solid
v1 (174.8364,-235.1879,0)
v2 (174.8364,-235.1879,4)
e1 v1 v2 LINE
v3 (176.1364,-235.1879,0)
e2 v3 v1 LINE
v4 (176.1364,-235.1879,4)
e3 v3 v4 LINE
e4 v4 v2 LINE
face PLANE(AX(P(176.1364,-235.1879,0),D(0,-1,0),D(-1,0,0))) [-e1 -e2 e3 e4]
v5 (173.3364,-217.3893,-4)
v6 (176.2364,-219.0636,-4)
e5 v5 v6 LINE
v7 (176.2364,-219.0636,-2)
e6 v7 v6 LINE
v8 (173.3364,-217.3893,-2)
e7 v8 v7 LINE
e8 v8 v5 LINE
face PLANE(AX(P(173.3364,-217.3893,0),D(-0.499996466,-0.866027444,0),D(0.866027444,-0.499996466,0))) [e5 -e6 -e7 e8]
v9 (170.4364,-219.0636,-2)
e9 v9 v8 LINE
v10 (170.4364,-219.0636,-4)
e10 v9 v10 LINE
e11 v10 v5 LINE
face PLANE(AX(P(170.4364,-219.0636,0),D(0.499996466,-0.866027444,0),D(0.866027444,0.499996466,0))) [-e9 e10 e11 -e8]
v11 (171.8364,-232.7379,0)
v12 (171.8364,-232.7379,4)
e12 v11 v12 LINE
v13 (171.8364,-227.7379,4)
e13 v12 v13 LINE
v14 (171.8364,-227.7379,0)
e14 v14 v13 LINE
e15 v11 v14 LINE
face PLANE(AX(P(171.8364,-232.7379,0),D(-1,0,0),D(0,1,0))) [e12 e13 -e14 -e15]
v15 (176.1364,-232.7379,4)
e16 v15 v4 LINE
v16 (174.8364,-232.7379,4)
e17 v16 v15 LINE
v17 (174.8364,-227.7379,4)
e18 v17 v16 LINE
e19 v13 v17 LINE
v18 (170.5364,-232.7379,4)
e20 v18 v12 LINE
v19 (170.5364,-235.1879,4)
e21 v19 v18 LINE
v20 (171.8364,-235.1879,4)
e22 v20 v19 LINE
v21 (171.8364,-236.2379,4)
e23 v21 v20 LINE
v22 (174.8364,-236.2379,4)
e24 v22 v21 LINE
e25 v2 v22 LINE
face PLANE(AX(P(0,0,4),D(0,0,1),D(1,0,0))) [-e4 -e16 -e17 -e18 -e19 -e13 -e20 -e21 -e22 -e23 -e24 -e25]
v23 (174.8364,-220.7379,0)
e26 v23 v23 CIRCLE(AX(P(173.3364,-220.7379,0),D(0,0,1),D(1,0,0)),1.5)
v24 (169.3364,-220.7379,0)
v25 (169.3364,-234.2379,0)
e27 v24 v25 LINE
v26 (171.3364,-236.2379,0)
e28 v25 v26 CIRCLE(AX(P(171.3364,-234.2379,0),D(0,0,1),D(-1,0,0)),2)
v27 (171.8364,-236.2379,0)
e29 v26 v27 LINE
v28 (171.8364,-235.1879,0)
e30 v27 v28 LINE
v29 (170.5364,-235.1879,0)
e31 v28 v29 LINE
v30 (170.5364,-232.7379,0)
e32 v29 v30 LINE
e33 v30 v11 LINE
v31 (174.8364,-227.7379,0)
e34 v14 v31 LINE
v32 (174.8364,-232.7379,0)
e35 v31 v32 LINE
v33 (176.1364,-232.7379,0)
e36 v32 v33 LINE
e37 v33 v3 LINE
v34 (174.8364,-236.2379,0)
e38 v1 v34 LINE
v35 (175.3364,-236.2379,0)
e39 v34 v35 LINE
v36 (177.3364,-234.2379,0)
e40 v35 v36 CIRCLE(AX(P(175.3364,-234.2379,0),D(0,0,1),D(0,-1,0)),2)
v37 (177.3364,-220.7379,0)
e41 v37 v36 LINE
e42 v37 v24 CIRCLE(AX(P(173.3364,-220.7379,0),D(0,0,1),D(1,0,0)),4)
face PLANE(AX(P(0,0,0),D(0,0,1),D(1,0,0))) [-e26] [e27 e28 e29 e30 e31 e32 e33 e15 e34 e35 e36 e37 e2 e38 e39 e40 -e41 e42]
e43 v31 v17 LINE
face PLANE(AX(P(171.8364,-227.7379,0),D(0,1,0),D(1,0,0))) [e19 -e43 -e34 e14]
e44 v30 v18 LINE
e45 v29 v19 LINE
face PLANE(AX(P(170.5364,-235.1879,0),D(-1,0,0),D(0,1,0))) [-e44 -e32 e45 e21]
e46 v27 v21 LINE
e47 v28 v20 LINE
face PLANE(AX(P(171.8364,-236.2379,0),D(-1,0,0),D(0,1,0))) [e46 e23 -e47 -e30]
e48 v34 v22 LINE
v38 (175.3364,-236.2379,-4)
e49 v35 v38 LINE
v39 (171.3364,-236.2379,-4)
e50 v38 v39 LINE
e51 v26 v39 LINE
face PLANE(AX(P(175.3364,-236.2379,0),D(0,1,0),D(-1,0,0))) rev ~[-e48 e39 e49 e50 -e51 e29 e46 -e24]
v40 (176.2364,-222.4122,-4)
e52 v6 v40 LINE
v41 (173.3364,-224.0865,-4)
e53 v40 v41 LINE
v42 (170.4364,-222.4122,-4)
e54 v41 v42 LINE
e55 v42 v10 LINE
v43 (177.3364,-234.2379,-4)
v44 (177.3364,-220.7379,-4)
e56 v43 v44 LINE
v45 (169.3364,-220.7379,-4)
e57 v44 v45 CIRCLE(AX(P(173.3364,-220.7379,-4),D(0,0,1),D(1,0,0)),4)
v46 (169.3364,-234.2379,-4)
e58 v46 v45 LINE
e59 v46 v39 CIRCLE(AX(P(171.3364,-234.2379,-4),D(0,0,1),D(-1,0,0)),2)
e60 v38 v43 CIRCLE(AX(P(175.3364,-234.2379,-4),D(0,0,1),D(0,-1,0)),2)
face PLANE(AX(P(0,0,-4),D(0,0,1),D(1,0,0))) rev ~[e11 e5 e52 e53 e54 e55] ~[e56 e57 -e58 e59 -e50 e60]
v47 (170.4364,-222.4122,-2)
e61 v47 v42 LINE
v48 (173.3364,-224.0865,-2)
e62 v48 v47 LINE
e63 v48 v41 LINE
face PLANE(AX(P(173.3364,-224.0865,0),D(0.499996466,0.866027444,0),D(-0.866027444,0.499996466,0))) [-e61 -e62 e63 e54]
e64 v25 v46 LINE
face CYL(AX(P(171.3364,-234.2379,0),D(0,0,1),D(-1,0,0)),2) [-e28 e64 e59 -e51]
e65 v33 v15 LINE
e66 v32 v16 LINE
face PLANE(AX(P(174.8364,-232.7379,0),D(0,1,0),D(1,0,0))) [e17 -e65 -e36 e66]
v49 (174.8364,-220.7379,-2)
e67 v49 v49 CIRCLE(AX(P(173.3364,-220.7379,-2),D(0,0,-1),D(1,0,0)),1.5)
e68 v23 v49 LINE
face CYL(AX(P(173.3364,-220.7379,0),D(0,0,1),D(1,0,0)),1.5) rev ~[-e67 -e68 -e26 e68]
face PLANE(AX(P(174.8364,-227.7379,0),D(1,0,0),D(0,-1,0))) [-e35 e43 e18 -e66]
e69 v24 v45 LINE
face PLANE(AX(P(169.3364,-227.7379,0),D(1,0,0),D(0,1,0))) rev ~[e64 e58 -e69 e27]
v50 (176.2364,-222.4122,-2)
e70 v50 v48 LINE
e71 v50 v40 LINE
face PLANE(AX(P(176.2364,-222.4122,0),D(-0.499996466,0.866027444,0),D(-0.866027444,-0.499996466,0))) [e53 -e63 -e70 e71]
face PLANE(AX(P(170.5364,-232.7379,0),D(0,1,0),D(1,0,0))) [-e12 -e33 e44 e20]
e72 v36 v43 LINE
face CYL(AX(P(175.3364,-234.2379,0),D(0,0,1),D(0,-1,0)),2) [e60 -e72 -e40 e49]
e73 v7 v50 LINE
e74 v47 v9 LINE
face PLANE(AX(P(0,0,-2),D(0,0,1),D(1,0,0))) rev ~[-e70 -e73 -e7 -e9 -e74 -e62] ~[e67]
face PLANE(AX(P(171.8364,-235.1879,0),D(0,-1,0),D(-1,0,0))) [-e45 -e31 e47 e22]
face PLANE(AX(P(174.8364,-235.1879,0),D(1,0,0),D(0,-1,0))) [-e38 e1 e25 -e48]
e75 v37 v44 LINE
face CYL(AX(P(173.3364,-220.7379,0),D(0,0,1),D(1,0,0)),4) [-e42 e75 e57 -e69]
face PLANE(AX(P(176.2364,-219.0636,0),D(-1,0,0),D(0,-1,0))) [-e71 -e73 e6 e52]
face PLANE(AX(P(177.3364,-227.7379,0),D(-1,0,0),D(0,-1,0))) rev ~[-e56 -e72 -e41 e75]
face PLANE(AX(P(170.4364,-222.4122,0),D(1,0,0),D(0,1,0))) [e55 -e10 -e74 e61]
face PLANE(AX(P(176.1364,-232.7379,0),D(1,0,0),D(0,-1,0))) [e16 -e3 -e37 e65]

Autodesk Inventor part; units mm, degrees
ref_plane "YZ Plane" through (0, 0, 0) normal (1, 0, 0) x (0, 1, 0)
ref_plane "XZ Plane" through (0, 0, 0) normal (0, 1, 0) x (-1, 0, 0)
ref_plane "XY Plane" through (0, 0, 0) normal (0, 0, 1) x (1, 0, 0)
sketch "Эскиз1" plane through (0, 0, 0) normal (0, 0, 1) x (1, 0, 0)
  line L0 (330.6864, -227.7379) -> (330.6864, -232.7379)
  line L1 (330.6864, -232.7379) -> (331.9864, -232.7379)
  line L2 (331.9864, -232.7379) -> (331.9864, -235.1879)
  line L3 (331.9864, -235.1879) -> (330.6864, -235.1879)
  line L4 (330.6864, -235.1879) -> (330.6864, -236.2379)
  line L5 (330.6864, -236.2379) -> (327.6864, -236.2379)
  line L6 (327.6864, -236.2379) -> (327.6864, -235.1879)
  line L7 (327.6864, -235.1879) -> (326.3864, -235.1879)
  line L8 (326.3864, -235.1879) -> (326.3864, -232.7379)
  line L9 (326.3864, -232.7379) -> (327.6864, -232.7379)
  line L10 (327.6864, -232.7379) -> (327.6864, -227.7379)
  line L11 (327.6864, -227.7379) -> (289.8864, -227.7379)
  line L12 (289.8864, -227.7379) -> (289.8864, -223.7379)
  line L13 (289.8864, -223.7379) -> (212.4864, -223.7379)
  line L14 (212.4864, -223.7379) -> (212.4864, -227.7379)
  line L15 (212.4864, -227.7379) -> (174.8364, -227.7379)
  line L16 (174.8364, -227.7379) -> (174.8364, -232.7379)
  line L17 (174.8364, -232.7379) -> (176.1364, -232.7379)
  line L18 (176.1364, -232.7379) -> (176.1364, -235.1879)
  line L19 (176.1364, -235.1879) -> (174.8364, -235.1879)
  line L20 (174.8364, -235.1879) -> (174.8364, -236.2379)
  line L21 (174.8364, -236.2379) -> (171.8364, -236.2379)
  line L22 (171.8364, -236.2379) -> (171.8364, -235.1879)
  line L23 (171.8364, -235.1879) -> (170.5364, -235.1879)
  line L24 (170.5364, -235.1879) -> (170.5364, -232.7379)
  line L25 (170.5364, -232.7379) -> (171.8364, -232.7379)
  line L26 (171.8364, -232.7379) -> (171.8364, -227.7379)
  line L27 (171.8364, -227.7379) -> (134.1864, -227.7379)
  line L28 (134.1864, -227.7379) -> (134.1864, -735.7379) projected
  line L29 (134.1864, -735.7379) -> (184.1864, -735.7379) projected
  line L30 (184.1864, -735.7379) -> (184.1864, -437.7379) projected
  line L31 (184.1864, -437.7379) -> (204.1864, -417.7379)
  line L32 (204.1864, -417.7379) -> (454.1864, -417.7379)
  line L33 (454.1864, -417.7379) -> (474.1864, -437.7379)
  line L34 (474.1864, -437.7379) -> (474.1864, -735.7379) projected
  line L35 (474.1864, -735.7379) -> (524.1864, -735.7379) projected
  line L36 (524.1864, -735.7379) -> (524.1864, -227.7379) projected
  line L37 (524.1864, -227.7379) -> (486.5364, -227.7379)
  line L38 (486.5364, -227.7379) -> (486.5364, -232.7379)
  line L39 (486.5364, -232.7379) -> (487.8364, -232.7379)
  line L40 (487.8364, -232.7379) -> (487.8364, -235.1879)
  line L41 (487.8364, -235.1879) -> (486.5364, -235.1879)
  line L42 (486.5364, -235.1879) -> (486.5364, -236.2379)
  line L43 (486.5364, -236.2379) -> (483.5364, -236.2379)
  line L44 (483.5364, -236.2379) -> (483.5364, -235.1879)
  line L45 (483.5364, -235.1879) -> (482.2364, -235.1879)
  line L46 (482.2364, -235.1879) -> (482.2364, -232.7379)
  line L47 (482.2364, -232.7379) -> (483.5364, -232.7379)
  line L48 (483.5364, -232.7379) -> (483.5364, -227.7379)
  line L49 (483.5364, -227.7379) -> (445.8864, -227.7379)
  line L50 (445.8864, -227.7379) -> (445.8864, -223.7379)
  line L51 (445.8864, -223.7379) -> (368.4864, -223.7379)
  line L52 (368.4864, -223.7379) -> (368.4864, -227.7379)
  line L53 (368.4864, -227.7379) -> (330.6864, -227.7379)
  circle A0 centre (510.1864, -385.7379) radius 5
  circle A1 centre (148.1864, -385.7379) radius 5
  circle A2 centre (150.1864, -412.7379) radius 5
  circle A3 centre (508.1864, -412.7379) radius 5
  line L54 (198.0365, -283.9874) -> (198.0365, -274.4874)
  arc A4 (198.2865, -274.2374) -> (198.0365, -274.4874) centre (198.2865, -274.4874) ccw
  line L55 (198.2865, -274.2374) -> (220.2865, -274.2374)
  arc A5 (220.5365, -274.4874) -> (220.2865, -274.2374) centre (220.2865, -274.4874) ccw
  line L56 (220.5365, -274.4874) -> (220.5365, -283.9874)
  arc A6 (220.2865, -284.2374) -> (220.5365, -283.9874) centre (220.2865, -283.9874) ccw
  line L57 (220.2865, -284.2374) -> (198.2865, -284.2374)
  arc A7 (198.0365, -283.9874) -> (198.2865, -284.2374) centre (198.2865, -283.9874) ccw
  spline S0 degree 4 poles (220.5005, -310.507) (220.5003, -310.0397) (220.4543, -309.4219) (220.3063, -308.6946) (219.9828, -307.9126) (219.5846, -307.2407) (219.1485, -306.7849) (218.7486, -306.4926) (218.4341, -306.3133) knots 0 0 0 0 0 0.333261 0.458786 0.580687 0.70052 1 1 1 1 1
  spline S1 degree 4 poles (218.4341, -306.3133) (218.2194, -306.2045) (217.9574, -306.0638) (217.2245, -305.8515) (216.8112, -305.759) (215.0952, -305.8521) (214.8239, -305.815) knots 0 0 0 0 0 0.331948 0.48487 1 1 1 1 1
  line L58 (214.8239, -305.815) -> (210.9827, -305.815)
  line L59 (210.9827, -305.815) -> (210.9827, -303.0192)
  line L60 (210.9827, -303.0192) -> (215.6262, -303.0192)
  spline S2 degree 4 poles (215.6262, -303.0192) (216.0632, -302.9791) (218.3041, -303.1205) (219.1074, -303.2602) (220.3376, -303.6977) (220.8048, -303.9727) (221.1813, -304.1983) knots 0 0 0 0 0 0.48869 0.646796 1 1 1 1 1
  spline S3 degree 4 poles (221.1813, -304.1983) (221.6328, -304.4905) (222.2206, -304.9662) (222.87, -305.6808) (223.5166, -306.727) (224.0456, -307.8865) (224.2868, -308.9631) (224.3652, -309.8569) (224.366, -310.5313) knots 0 0 0 0 0 0.30127 0.423004 0.546367 0.672176 1 1 1 1 1
  spline S4 degree 4 poles (224.366, -310.5313) (224.3672, -311.1836) (224.2819, -312.0637) (224.0275, -313.128) (223.4629, -314.3083) (222.7851, -315.3791) (222.1412, -316.0885) (221.5656, -316.5539) (221.1326, -316.8279) knots 0 0 0 0 0 0.325829 0.453052 0.578284 0.70143 1 1 1 1 1
  spline S5 degree 4 poles (221.1326, -316.8279) (220.7893, -317.0305) (220.3484, -317.2658) (219.1646, -317.6777) (218.3558, -317.7448) (216.0857, -318.1145) (215.6748, -318.0192) knots 0 0 0 0 0 0.345082 0.503845 1 1 1 1 1
  line L61 (215.6748, -318.0192) -> (210.9827, -318.0192)
  line L62 (210.9827, -318.0192) -> (210.9827, -315.2112)
  line L63 (210.9827, -315.2112) -> (214.8239, -315.2112)
  spline S6 degree 4 poles (214.8239, -315.2112) (215.1741, -315.246) (216.9237, -315.0068) (217.3918, -315.0434) (218.1403, -314.8454) (218.4072, -314.7315) (218.6164, -314.6278) knots 0 0 0 0 0 0.523746 0.675711 1 1 1 1 1
  spline S7 degree 4 poles (218.6164, -314.6278) (218.8947, -314.4519) (219.2518, -314.164) (219.6429, -313.721) (220.0126, -313.068) (220.3184, -312.3077) (220.4565, -311.5867) (220.5004, -310.9747) (220.5005, -310.507) knots 0 0 0 0 0 0.293933 0.413176 0.535292 0.661734 1 1 1 1 1
  line L64 (206.7865, -285.7374) -> (206.7865, -284.7374)
  line L65 (206.7865, -284.7374) -> (211.7865, -284.7374)
  line L66 (211.7865, -284.7374) -> (211.7865, -285.7374)
  line L67 (211.7865, -285.7374) -> (213.7865, -285.7374)
  line L68 (213.7865, -285.7374) -> (213.7865, -288.7374)
  spline S8 degree 4 poles (213.7865, -288.7374) (213.6519, -288.8139) (213.4737, -288.7819) (213.3015, -288.643) (213.0567, -288.4771) (212.69, -288.3556) (212.2603, -288.4723) (211.871, -288.6284) (211.5365, -288.7374) knots 0 0 0 0 0 0.262205 0.367936 0.481015 0.607227 1 1 1 1 1
  spline S9 degree 4 poles (211.5365, -288.7374) (211.1505, -288.9432) (210.6435, -289.1648) (210.0259, -289.3413) (209.2886, -289.3933) (208.5507, -289.3412) (207.9319, -289.1646) (207.4237, -288.9431) (207.0365, -288.7374) knots 0 0 0 0 0 0.321352 0.440904 0.558717 0.678328 1 1 1 1 1
  spline S10 degree 4 poles (207.0365, -288.7374) (206.8474, -288.9124) (206.596, -289.091) (206.2892, -289.2192) (205.9233, -289.2608) (205.553, -289.2318) (205.2381, -289.1011) (204.981, -288.9152) (204.7865, -288.7374) knots 0 0 0 0 0 0.325734 0.441296 0.554264 0.670467 1 1 1 1 1
  line L69 (204.7865, -288.7374) -> (204.7865, -285.7374)
  line L70 (204.7865, -285.7374) -> (206.7865, -285.7374)
  line L71 (209.6615, -293.1605) -> (208.9115, -293.1605)
  line L72 (208.9115, -293.1605) -> (205.8815, -289.9115)
  spline S11 degree 4 poles (205.8815, -289.9115) (205.9805, -289.9087) (206.1201, -289.8928) (206.2986, -289.8511) (206.5123, -289.7699) (206.7297, -289.6659) (206.9037, -289.5566) (207.0382, -289.4574) (207.1348, -289.3787) knots 0 0 0 0 0 0.300687 0.4228 0.546613 0.672716 1 1 1 1 1
  spline S12 degree 4 poles (207.1348, -289.3787) (207.4869, -289.5458) (207.9624, -289.7299) (208.5607, -289.88) (209.2865, -289.9251) (210.0123, -289.88) (210.6106, -289.7298) (211.0863, -289.5458) (211.4383, -289.3787) knots 0 0 0 0 0 0.318028 0.439699 0.56029 0.681964 1 1 1 1 1
  spline S13 degree 4 poles (211.4383, -289.3787) (211.5621, -289.4198) (211.726, -289.4782) (211.9234, -289.5547) (212.1488, -289.6486) (212.3519, -289.7369) (212.5071, -289.8094) (212.6189, -289.8675) (212.6916, -289.9115) knots 0 0 0 0 0 0.337221 0.465736 0.590517 0.711668 1 1 1 1 1
  line L73 (212.6916, -289.9115) -> (209.6615, -293.1605)
  line L74 (214.751, -315.1701) -> (210.9827, -315.1701)
  line L75 (210.9827, -315.1701) -> (210.9827, -305.8193)
  line L76 (210.9827, -305.8193) -> (214.751, -305.8193)
  line L77 (214.751, -305.8193) -> (214.751, -315.1701)
  arc A8 (209.7865, -300.4106) -> (208.2865, -298.9106) centre (208.2865, -300.4106) ccw
  line L78 (209.7865, -300.4106) -> (209.7865, -300.9106)
  line L79 (209.7865, -300.9106) -> (208.7865, -300.9106)
  line L80 (208.7865, -300.9106) -> (208.7865, -300.4106)
  arc A9 (208.7865, -300.4106) -> (208.2865, -299.9106) centre (208.2865, -300.4106) ccw
  line L81 (208.2865, -299.9106) -> (201.7865, -299.9106)
  arc A10 (201.7865, -296.9106) -> (201.7865, -299.9106) centre (201.7865, -298.4106) ccw
  line L82 (201.7865, -296.9106) -> (216.7865, -296.9106)
  arc A11 (216.7865, -296.9106) -> (216.7865, -295.9106) centre (216.7865, -296.4106) ccw
  line L83 (216.7865, -295.9106) -> (210.2865, -295.9106)
  arc A12 (208.7865, -294.4106) -> (210.2865, -295.9106) centre (210.2865, -294.4106) ccw
  line L84 (208.7865, -294.4106) -> (208.7865, -293.9106)
  line L85 (208.7865, -293.9106) -> (209.7865, -293.9106)
  line L86 (209.7865, -293.9106) -> (209.7865, -294.4106)
  arc A13 (209.7865, -294.4106) -> (210.2865, -294.9106) centre (210.2865, -294.4106) ccw
  line L87 (210.2865, -294.9106) -> (216.7865, -294.9106)
  arc A14 (216.7865, -297.9106) -> (216.7865, -294.9106) centre (216.7865, -296.4106) ccw
  line L88 (216.7865, -297.9106) -> (201.7865, -297.9106)
  arc A15 (201.7865, -297.9106) -> (201.7865, -298.9106) centre (201.7865, -298.4106) ccw
  line L89 (201.7865, -298.9106) -> (208.2865, -298.9106)
  spline S14 degree 4 poles (206.5338, -303.6148) (206.7685, -303.7597) (207.0659, -303.9867) (207.3902, -304.3236) (207.6872, -304.8028) (207.9226, -305.3279) (208.031, -305.7914) (208.0657, -306.1761) (208.0654, -306.4592) knots 0 0 0 0 0 0.312949 0.435922 0.558791 0.682637 1 1 1 1 1
  spline S15 degree 4 poles (208.0654, -306.4592) (208.0667, -306.8455) (207.9969, -307.373) (207.7865, -307.9991) (207.3334, -308.6976) (206.7816, -309.3133) (206.2308, -309.6699) (205.74, -309.8607) (205.3668, -309.9479) knots 0 0 0 0 0 0.313918 0.438715 0.563217 0.687663 1 1 1 1 1
  line L90 (205.3668, -309.9479) -> (205.3668, -310.0937)
  spline S16 degree 4 poles (205.3668, -310.0937) (205.5312, -310.0712) (206.2732, -310.3709) (206.5855, -310.4525) (207.0618, -310.7261) (207.2515, -310.8673) (207.409, -310.9933) knots 0 0 0 0 0 0.467412 0.627499 1 1 1 1 1
  spline S17 degree 4 poles (207.409, -310.9933) (207.5481, -311.1133) (207.7331, -311.307) (207.9398, -311.5886) (208.1607, -311.9975) (208.3429, -312.4401) (208.4267, -312.8625) (208.4538, -313.2077) (208.4544, -313.473) knots 0 0 0 0 0 0.293401 0.414689 0.538726 0.665972 1 1 1 1 1
  spline S18 degree 4 poles (208.4544, -313.473) (208.4542, -313.8182) (208.4167, -314.2867) (208.3007, -314.8566) (208.0496, -315.5046) (207.7363, -316.1003) (207.4002, -316.53) (207.0921, -316.8283) (206.8498, -317.0224) knots 0 0 0 0 0 0.321122 0.446176 0.569734 0.692519 1 1 1 1 1
  spline S19 degree 4 poles (206.8498, -317.0224) (206.6091, -317.215) (206.2427, -317.4621) (205.7289, -317.7312) (205.0243, -317.9925) (204.2362, -318.2079) (203.4791, -318.3046) (202.8516, -318.3351) (202.3644, -318.3352) knots 0 0 0 0 0 0.288505 0.407246 0.52959 0.656869 1 1 1 1 1
  spline S20 degree 4 poles (202.3644, -318.3352) (200.7651, -318.3047) (199.5638, -318.1496) (198.2039, -317.74) (197.3198, -317.3871) knots 0 0 0 0 0 1 1 1 1 1
  line L91 (197.3198, -317.3871) -> (197.3198, -314.1294)
  line L92 (197.3198, -314.1294) -> (197.6845, -314.1294)
  spline S21 degree 4 poles (197.6845, -314.1294) (197.8963, -314.3375) (199.3348, -314.8985) (200.0458, -315.1512) (200.9862, -315.3661) (201.3735, -315.4088) (201.6594, -315.43) knots 0 0 0 0 0 0.485606 0.650571 1 1 1 1 1
  spline S22 degree 4 poles (201.6594, -315.43) (201.8017, -315.4566) (202.7287, -315.3618) (203.1091, -315.3075) (203.6053, -315.1248) (203.7864, -315.012) (203.9203, -314.9195) knots 0 0 0 0 0 0.490597 0.653392 1 1 1 1 1
  spline S23 degree 4 poles (203.9203, -314.9195) (204.0251, -314.8403) (204.1632, -314.7177) (204.3146, -314.5417) (204.4732, -314.2933) (204.5993, -314.0182) (204.6569, -313.7148) (204.6734, -313.4623) (204.674, -313.2542) knots 0 0 0 0 0 0.293695 0.410721 0.530018 0.654429 1 1 1 1 1
  spline S24 degree 4 poles (204.674, -313.2542) (204.6737, -313.05) (204.65, -312.7949) (204.5704, -312.5) (204.3941, -312.2275) (204.1685, -311.9914) (203.9524, -311.8427) (203.754, -311.7508) (203.6043, -311.6983) knots 0 0 0 0 0 0.332874 0.455336 0.574642 0.693712 1 1 1 1 1
  spline S25 degree 3 poles (203.6043, -311.6983) (203.1339, -311.419) (202.8478, -311.2752) (201.2461, -311.4916) knots 0 0 0 0 1 1 1 1
  line L93 (201.2461, -311.4916) -> (200.6018, -311.4916)
  line L94 (200.6018, -311.4916) -> (200.6018, -308.8539)
  line L95 (200.6018, -308.8539) -> (201.1975, -308.8539)
  spline S26 degree 4 poles (201.1975, -308.8539) (201.8646, -308.8347) (202.5816, -308.7738) (203.0974, -308.7347) (203.4341, -308.55) knots 0 0 0 0 0 1 1 1 1 1
  spline S27 degree 4 poles (203.4341, -308.55) (203.5568, -308.4899) (203.7161, -308.3919) (203.8905, -308.2415) (204.0639, -308.0177) (204.2017, -307.7644) (204.265, -307.4981) (204.2843, -307.2719) (204.285, -307.0913) knots 0 0 0 0 0 0.303428 0.422137 0.541736 0.664935 1 1 1 1 1
  spline S28 degree 4 poles (204.285, -307.0913) (204.2846, -306.9506) (204.2677, -306.7719) (204.2092, -306.5582) (204.0845, -306.3506) (203.9226, -306.1579) (203.7804, -306.033) (203.6505, -305.9492) (203.5557, -305.9001) knots 0 0 0 0 0 0.328861 0.453441 0.575803 0.697309 1 1 1 1 1
  spline S29 degree 4 poles (203.5557, -305.9001) (203.4448, -305.8495) (203.2969, -305.7896) (202.9114, -305.6871) (202.6272, -305.6603) (201.9555, -305.5746) (201.8782, -305.5962) knots 0 0 0 0 0 0.352064 0.518119 1 1 1 1 1
  spline S30 degree 4 poles (201.8782, -305.5962) (201.3241, -305.5966) (200.7829, -305.6848) (200.1681, -305.8558) (199.6416, -306.0581) knots 0 0 0 0 0 1 1 1 1 1
  spline S31 degree 3 poles (199.6416, -306.0581) (200.0559, -305.6978) (203.2118, -303.6988) (198.2887, -306.7332) knots 0 0 0 0 1 1 1 1
  line L96 (198.2887, -306.7332) -> (197.8235, -306.8604)
  line L97 (197.8235, -306.8604) -> (197.7574, -306.8604)
  line L98 (197.7574, -306.8604) -> (197.7574, -303.6513)
  spline S32 degree 4 poles (197.7574, -303.6513) (198.6005, -303.3178) (200.0612, -302.9118) (201.2135, -302.7136) (202.5346, -302.7031) knots 0 0 0 0 0 1 1 1 1 1
  spline S33 degree 4 poles (202.5346, -302.7031) (203.7734, -302.7074) (204.8441, -302.8363) (205.7919, -303.1378) (206.5338, -303.6148) knots 0 0 0 0 0 1 1 1 1 1
  line L99 (209.1913, -331.2373) -> (209.1913, -324.7373)
  arc A16 (209.1913, -324.7373) -> (209.1912, -324.7373) centre (209.2865, -297.2374) ccw
  line L100 (209.1912, -324.7373) -> (209.1912, -331.2373)
  arc A17 (204.7865, -330.9383) -> (209.1912, -331.2373) centre (209.2865, -297.2374) ccw
  arc A18 (203.0365, -327.6009) -> (204.7865, -330.9383) centre (216.5671, -322.6337) ccw
  arc A19 (192.2358, -323.127) -> (203.0365, -327.6009) centre (209.2865, -297.2374) ccw
  arc A20 (188.6384, -324.2495) -> (192.2358, -323.127) centre (186.1806, -310.0472) ccw
  arc A21 (182.2744, -317.8856) -> (188.6384, -324.2495) centre (209.2865, -297.2374) ccw
  arc A22 (183.3969, -314.2882) -> (182.2744, -317.8856) centre (196.4768, -320.3434) ccw
  arc A23 (178.9231, -303.4874) -> (183.3969, -314.2882) centre (209.2865, -297.2374) ccw
  arc A24 (175.5856, -301.7374) -> (178.9231, -303.4874) centre (183.8903, -289.9569) ccw
  arc A25 (175.5856, -292.7374) -> (175.5856, -301.7374) centre (209.2865, -297.2374) ccw
  arc A26 (178.9231, -290.9874) -> (175.5856, -292.7374) centre (183.8903, -304.518) ccw
  arc A27 (183.3969, -280.1867) -> (178.9231, -290.9874) centre (209.2865, -297.2374) ccw
  arc A28 (182.2744, -276.5893) -> (183.3969, -280.1867) centre (196.4768, -274.1315) ccw
  arc A29 (188.6384, -270.2253) -> (182.2744, -276.5893) centre (209.2865, -297.2374) ccw
  arc A30 (192.2358, -271.3478) -> (188.6384, -270.2253) centre (186.1806, -284.4277) ccw
  arc A31 (203.0365, -266.874) -> (192.2358, -271.3478) centre (209.2865, -297.2374) ccw
  arc A32 (204.7865, -263.5365) -> (203.0365, -266.874) centre (216.5671, -271.8412) ccw
  arc A33 (213.7865, -263.5365) -> (204.7865, -263.5365) centre (209.2865, -297.2374) ccw
  arc A34 (215.5365, -266.874) -> (213.7865, -263.5365) centre (202.006, -271.8412) ccw
  arc A35 (226.3373, -271.3478) -> (215.5365, -266.874) centre (209.2865, -297.2374) ccw
  arc A36 (229.9347, -270.2253) -> (226.3373, -271.3478) centre (232.3925, -284.4277) ccw
  arc A37 (236.2986, -276.5893) -> (229.9347, -270.2253) centre (209.2865, -297.2374) ccw
  arc A38 (235.1761, -280.1867) -> (236.2986, -276.5893) centre (222.0963, -274.1315) ccw
  arc A39 (239.65, -290.9874) -> (235.1761, -280.1867) centre (209.2865, -297.2374) ccw
  arc A40 (242.9874, -292.7374) -> (239.65, -290.9874) centre (234.6828, -304.518) ccw
  arc A41 (242.9874, -301.7374) -> (242.9874, -292.7374) centre (209.2865, -297.2374) ccw
  arc A42 (239.65, -303.4874) -> (242.9874, -301.7374) centre (234.6828, -289.9569) ccw
  arc A43 (235.1761, -314.2882) -> (239.65, -303.4874) centre (209.2865, -297.2374) ccw
  arc A44 (236.2986, -317.8856) -> (235.1761, -314.2882) centre (222.0963, -320.3434) ccw
  arc A45 (229.9347, -324.2495) -> (236.2986, -317.8856) centre (209.2865, -297.2374) ccw
  arc A46 (226.3373, -323.127) -> (229.9347, -324.2495) centre (232.3925, -310.0472) ccw
  arc A47 (215.5365, -327.6009) -> (226.3373, -323.127) centre (209.2865, -297.2374) ccw
  arc A48 (213.7865, -330.9383) -> (215.5365, -327.6009) centre (202.006, -322.6337) ccw
  arc A49 (209.1913, -331.2373) -> (213.7865, -330.9383) centre (209.2865, -297.2374) ccw
  circle A50 centre (330.1864, -297.7379) radius 20.6
  circle A51 centre (508.6864, -721.7379) radius 2 projected
  circle A52 centre (149.6864, -682.2379) radius 2 projected
  circle A53 centre (149.6864, -424.7379) radius 2
  circle A54 centre (508.6864, -424.7379) radius 2
  circle A55 centre (508.6864, -506.7379) radius 2.875 projected
  circle A56 centre (149.6864, -453.7379) radius 2
  circle A57 centre (149.6864, -721.7379) radius 2 projected
  circle A58 centre (170.4364, -639.7379) radius 1.5 projected
  circle A59 centre (170.4364, -507.7379) radius 1.5 projected
  circle A60 centre (170.4364, -477.7379) radius 1.5
  circle A61 centre (170.4364, -669.7379) radius 1.5 projected
  circle A62 centre (479.4534, -583.2596) radius 1.5 projected
  line L101 (445.4108, -378.2955) -> (445.4108, -381.1733)
  line L102 (445.4108, -381.1733) -> (439.6177, -381.1733)
  line L103 (439.6177, -381.1733) -> (439.3174, -383.1252)
  spline S34 degree 4 poles (439.3174, -383.1252) (439.8832, -382.9763) (440.4727, -382.8362) (441.0568, -382.6943) (441.6697, -382.5621) knots 0 0 0 0 0 1 1 1 1 1
  spline S35 degree 4 poles (441.6697, -382.5621) (442.2638, -382.5598) (443.052, -382.6679) (443.9476, -382.9985) (444.8569, -383.7336) (445.5947, -384.609) (445.9315, -385.4454) (446.0393, -386.1746) (446.0364, -386.7161) knots 0 0 0 0 0 0.321 0.445325 0.568168 0.690637 1 1 1 1 1
  spline S36 degree 4 poles (446.0364, -386.7161) (446.0346, -387.3159) (445.9109, -388.0809) (445.4981, -389.1528) (444.7052, -390.1668) (443.6543, -391.0177) (442.5576, -391.4124) (441.5087, -391.5161) (440.7063, -391.5207) knots 0 0 0 0 0 0.301808 0.422596 0.543783 0.666952 1 1 1 1 1
  spline S37 degree 4 poles (440.7063, -391.5207) (439.918, -391.5188) (438.9727, -391.4394) (437.9148, -391.1682) (436.9202, -390.5588) (436.1038, -389.8278) (435.6627, -389.1519) (435.3981, -388.4698) (435.2385, -387.9298) knots 0 0 0 0 0 0.344288 0.467767 0.585513 0.701061 1 1 1 1 1
  line L104 (435.2385, -387.9298) -> (438.892, -387.5294)
  spline S38 degree 4 poles (438.892, -387.5294) (438.9412, -387.7989) (439.0435, -388.1412) (439.2278, -388.5159) (439.5476, -388.8668) (439.8937, -389.136) (440.207, -389.2665) (440.4728, -389.3137) (440.6687, -389.3186) knots 0 0 0 0 0 0.337823 0.463732 0.585419 0.704571 1 1 1 1 1
  spline S39 degree 4 poles (440.6687, -389.3186) (440.8901, -389.3188) (441.1893, -389.2693) (441.5319, -389.1156) (441.8931, -388.7807) (442.2105, -388.3375) (442.349, -387.842) (442.3952, -387.3979) (442.3954, -387.0414) knots 0 0 0 0 0 0.288865 0.405011 0.524609 0.650411 1 1 1 1 1
  spline S40 degree 4 poles (442.3954, -387.0414) (442.3965, -386.6796) (442.3506, -386.2306) (442.2143, -385.7358) (441.8934, -385.3038) (441.5184, -384.9825) (441.1547, -384.8384) (440.8338, -384.7976) (440.5936, -384.8018) knots 0 0 0 0 0 0.347295 0.471219 0.589277 0.705046 1 1 1 1 1
  spline S41 degree 4 poles (440.5936, -384.8018) (440.3308, -384.8028) (440.0722, -384.8472) (439.8214, -384.9358) (439.5802, -385.0645) knots 0 0 0 0 0 1 1 1 1 1
  spline S42 degree 4 poles (439.5802, -385.0645) (439.4113, -385.0419) (439.2106, -385.2032) (439.0118, -385.4464) (438.7919, -385.7277) knots 0 0 0 0 0 1 1 1 1 1
  line L105 (438.7919, -385.7277) -> (435.714, -385.2897)
  line L106 (435.714, -385.2897) -> (436.8526, -378.2955)
  line L107 (436.8526, -378.2955) -> (445.4108, -378.2955)
  spline S43 degree 4 poles (406.7861, -386.7537) (406.783, -386.8994) (406.9374, -387.4742) (407.0204, -387.7031) (407.1624, -387.996) (407.2325, -388.1023) (407.2866, -388.18) knots 0 0 0 0 0 0.506296 0.664932 1 1 1 1 1
  spline S44 degree 4 poles (407.2866, -388.18) (407.382, -388.3002) (407.5282, -388.4525) (407.7394, -388.6182) (408.0321, -388.7711) (408.3561, -388.8938) (408.6492, -388.9503) (408.8932, -388.9682) (409.0758, -388.9683) knots 0 0 0 0 0 0.304407 0.425791 0.548382 0.673395 1 1 1 1 1
  spline S45 degree 4 poles (409.0758, -388.9683) (409.3418, -388.9666) (409.6834, -388.9198) (410.0596, -388.803) (410.4185, -388.5341) (410.6892, -388.2467) (410.8181, -387.9944) (410.8631, -387.7819) (410.8651, -387.6295) knots 0 0 0 0 0 0.349494 0.478462 0.601477 0.719585 1 1 1 1 1
  spline S46 degree 4 poles (410.8651, -387.6295) (410.8651, -387.5535) (410.8554, -387.4485) (410.8248, -387.3165) (410.7593, -387.1612) (410.6716, -387.0048) (410.5753, -386.883) (410.4859, -386.792) (410.4146, -386.7286) knots 0 0 0 0 0 0.300852 0.421911 0.544763 0.670489 1 1 1 1 1
  spline S47 degree 4 poles (410.4146, -386.7286) (410.1571, -386.5044) (409.6674, -386.3111) (409.0725, -386.1312) (408.3627, -385.9654) knots 0 0 0 0 0 1 1 1 1 1
  spline S48 degree 4 poles (408.3627, -385.9654) (407.1494, -385.6938) (406.0889, -385.3543) (405.2024, -384.9288) (404.584, -384.3889) knots 0 0 0 0 0 1 1 1 1 1
  spline S49 degree 4 poles (404.584, -384.3889) (404.408, -384.2361) (404.1857, -384.0093) (403.9447, -383.6933) (403.7233, -383.2707) (403.5506, -382.824) (403.4707, -382.4311) (403.4454, -382.1105) (403.4454, -381.874) knots 0 0 0 0 0 0.314239 0.437484 0.560343 0.683894 1 1 1 1 1
  spline S50 degree 4 poles (403.4454, -381.874) (403.4449, -381.4151) (403.5577, -380.8163) (403.9167, -380.0101) (404.6502, -379.2264) (405.7309, -378.5045) (406.8706, -378.1485) (408.0596, -378.0831) (408.9757, -378.0703) knots 0 0 0 0 0 0.276596 0.390848 0.509627 0.635941 1 1 1 1 1
  spline S51 degree 4 poles (408.9757, -378.0703) (409.7519, -378.0735) (410.7314, -378.1522) (411.8268, -378.4191) (412.8553, -379.0125) (413.6516, -379.7584) (414.0771, -380.5932) (414.2667, -381.3518) (414.3434, -381.949) knots 0 0 0 0 0 0.340632 0.462675 0.579541 0.695373 1 1 1 1 1
  line L108 (414.3434, -381.949) -> (410.5523, -382.1743)
  spline S52 degree 4 poles (410.5523, -382.1743) (410.5026, -381.9089) (410.4058, -381.5777) (410.2218, -381.2167) (409.9086, -380.8975) (409.5367, -380.6514) (409.1622, -380.5366) (408.8314, -380.5001) (408.5754, -380.4976) knots 0 0 0 0 0 0.324684 0.444588 0.562205 0.68129 1 1 1 1 1
  spline S53 degree 4 poles (408.5754, -380.4976) (408.3547, -380.4984) (408.0765, -380.531) (407.7733, -380.6151) (407.4955, -380.8115) (407.2908, -381.0256) (407.1945, -381.225) (407.1626, -381.397) (407.1615, -381.5236) knots 0 0 0 0 0 0.354168 0.481315 0.601534 0.717295 1 1 1 1 1
  spline S54 degree 4 poles (407.1615, -381.5236) (407.151, -381.5513) (407.1425, -381.5923) (407.1555, -381.6537) (407.1952, -381.7382) (407.2603, -381.845) (407.3352, -381.9396) (407.4052, -382.0169) (407.4618, -382.0742) knots 0 0 0 0 0 0.247386 0.359721 0.483602 0.619276 1 1 1 1 1
  spline S55 degree 4 poles (407.4618, -382.0742) (407.502, -382.1096) (407.5742, -382.1593) (407.6951, -382.2227) (407.9699, -382.3345) (408.225, -382.4111) (408.4138, -382.46) (408.8131, -382.5496) knots 0 0 0 0 0 0.265093 0.389381 0.526504 1 1 1 1 1
  spline S56 degree 4 poles (408.8131, -382.5496) (409.9591, -382.8033) (411.5127, -383.2002) (412.6708, -383.6431) (413.7254, -384.4472) (414.3811, -385.2229) (414.6765, -385.9927) (414.7705, -386.6006) (414.7688, -387.0665) knots 0 0 0 0 0 0.389595 0.513425 0.625734 0.733468 1 1 1 1 1
  spline S57 degree 4 poles (414.7688, -387.0665) (414.7651, -387.6424) (414.6429, -388.3842) (414.1942, -389.3533) (413.3387, -390.2809) (412.195, -391.0651) (411.0021, -391.4207) (409.8737, -391.5173) (409.0008, -391.5207) knots 0 0 0 0 0 0.292777 0.410851 0.531211 0.655943 1 1 1 1 1
  spline S58 degree 4 poles (409.0008, -391.5207) (407.9895, -391.5206) (406.7811, -391.4067) (405.4293, -391.0713) (404.3652, -390.2519) (403.5782, -389.2777) (403.1749, -388.3819) (403.0083, -387.5819) (402.9575, -386.9914) knots 0 0 0 0 0 0.35491 0.478284 0.59487 0.709037 1 1 1 1 1
  line L109 (402.9575, -386.9914) -> (406.7861, -386.7537)
  spline S59 degree 4 poles (394.7371, -378.0703) (395.7191, -378.07) (396.9898, -378.2189) (398.4153, -378.6999) (399.7793, -379.7808) (400.8604, -381.1289) (401.3447, -382.5175) (401.4939, -383.753) (401.4936, -384.7017) knots 0 0 0 0 0 0.321996 0.442966 0.562085 0.682373 1 1 1 1 1
  spline S60 degree 4 poles (401.4936, -384.7017) (401.4851, -385.7192) (401.3652, -387.0404) (400.8679, -388.4392) (399.8128, -389.7826) (398.4904, -390.8562) (397.1164, -391.3853) (395.8566, -391.5119) (394.8872, -391.5207) knots 0 0 0 0 0 0.324201 0.444012 0.561748 0.68112 1 1 1 1 1
  spline S61 degree 4 poles (394.8872, -391.5207) (393.9051, -391.5237) (392.6153, -391.3825) (391.2354, -390.9616) (389.8902, -389.9369) (388.7595, -388.5767) (388.1566, -387.1369) (388.0342, -385.8227) (388.0181, -384.8018) knots 0 0 0 0 0 0.317732 0.436395 0.554274 0.675018 1 1 1 1 1
  spline S62 degree 4 poles (388.0181, -384.8018) (388.017, -383.8398) (388.1688, -382.5871) (388.6587, -381.1773) (389.7545, -379.8084) (391.1224, -378.7124) (392.5286, -378.2217) (393.7783, -378.0695) (394.7371, -378.0703) knots 0 0 0 0 0 0.319418 0.440426 0.560018 0.68097 1 1 1 1 1
  line L110 (364.7958, -383.8884) -> (371.0017, -383.8884)
  line L111 (371.0017, -383.8884) -> (371.0017, -389.4187)
  spline S63 degree 4 poles (371.0017, -389.4187) (369.2773, -390.5761) (367.9432, -391.1503) (366.483, -391.341) (364.5956, -391.5207) knots 0 0 0 0 0 1 1 1 1 1
  spline S64 degree 4 poles (364.5956, -391.5207) (363.5663, -391.5174) (362.2259, -391.3822) (360.8136, -390.891) (359.4739, -389.7879) (358.4229, -388.4046) (357.8973, -386.926) (357.756, -385.7341) (357.7515, -384.7893) knots 0 0 0 0 0 0.324055 0.444084 0.562865 0.683419 1 1 1 1 1
  spline S65 degree 4 poles (357.7515, -384.7893) (357.7514, -384.1263) (357.8305, -383.2389) (358.08, -382.1878) (358.6262, -381.0385) (359.3014, -380.0325) (360.0273, -379.366) (360.6882, -378.9465) (361.2048, -378.6959) knots 0 0 0 0 0 0.325345 0.450117 0.57259 0.694038 1 1 1 1 1
  spline S66 degree 4 poles (361.2048, -378.6959) (361.9122, -378.363) (362.7618, -378.1622) (363.7151, -378.0709) (364.7582, -378.0703) knots 0 0 0 0 0 1 1 1 1 1
  spline S67 degree 4 poles (364.7582, -378.0703) (365.6777, -378.0749) (366.95, -378.1343) (367.9815, -378.3613) (369.0464, -378.967) (369.8787, -379.6881) (370.3859, -380.4767) (370.6707, -381.1881) (370.8266, -381.7488) knots 0 0 0 0 0 0.355167 0.475286 0.589187 0.703074 1 1 1 1 1
  line L112 (370.8266, -381.7488) -> (366.9478, -382.4495)
  spline S68 degree 4 poles (366.9478, -382.4495) (366.8814, -382.2273) (366.7537, -381.9399) (366.5276, -381.6226) (366.158, -381.3184) (365.7254, -381.0709) (365.3057, -380.9576) (364.9456, -380.9221) (364.6706, -380.923) knots 0 0 0 0 0 0.306162 0.426653 0.548001 0.672045 1 1 1 1 1
  spline S69 degree 4 poles (364.6706, -380.923) (364.2835, -380.9239) (363.7673, -381.0025) (363.1828, -381.2508) (362.5857, -381.7934) (362.0729, -382.5227) (361.8522, -383.3711) (361.781, -384.1317) (361.7804, -384.7517) knots 0 0 0 0 0 0.291183 0.405965 0.523705 0.648116 1 1 1 1 1
  spline S70 degree 4 poles (361.7804, -384.7517) (361.779, -385.4039) (361.8504, -386.201) (362.0651, -387.0776) (362.5841, -387.8163) (363.2003, -388.3522) (363.8218, -388.5952) (364.3751, -388.6679) (364.7958, -388.668) knots 0 0 0 0 0 0.352198 0.4751 0.591203 0.705096 1 1 1 1 1
  spline S71 degree 4 poles (364.7958, -388.668) (365.5044, -388.577) (366.1093, -388.5966) (366.7466, -388.3761) (367.4859, -387.8047) knots 0 0 0 0 0 1 1 1 1 1
  line L113 (367.4859, -387.8047) -> (367.4859, -386.591)
  line L114 (367.4859, -386.591) -> (364.7958, -386.591)
  line L115 (364.7958, -386.591) -> (364.7958, -383.8884)
  line L116 (338.1076, -378.2955) -> (344.8015, -378.2955)
  spline S72 degree 4 poles (344.8015, -378.2955) (345.6091, -378.3087) (346.7113, -378.4377) (347.6525, -378.6374) (348.5774, -379.2274) (349.2936, -379.9502) (349.6937, -380.7224) (349.8093, -381.3789) (349.8314, -381.899) knots 0 0 0 0 0 0.352761 0.473532 0.588688 0.703565 1 1 1 1 1
  spline S73 degree 4 poles (349.8314, -381.899) (349.8301, -382.2318) (349.7876, -382.6715) (349.6583, -383.1996) (349.3774, -383.7638) (349.0247, -384.2843) (348.6726, -384.6428) (348.3514, -384.887) (348.1047, -385.0395) knots 0 0 0 0 0 0.322749 0.447008 0.569667 0.691923 1 1 1 1 1
  spline S74 degree 4 poles (348.1047, -385.0395) (347.8307, -385.2057) (347.496, -385.3436) (347.1142, -385.458) (346.6909, -385.5525) knots 0 0 0 0 0 1 1 1 1 1
  spline S75 degree 4 poles (346.6909, -385.5525) (347.0198, -385.6624) (347.3099, -385.7772) (347.5565, -385.8979) (347.7419, -386.028) knots 0 0 0 0 0 1 1 1 1 1
  spline S76 degree 4 poles (347.7419, -386.028) (347.9857, -386.1912) (348.3728, -386.7098) (348.7642, -387.2731) (348.943, -387.5294) knots 0 0 0 0 0 1 1 1 1 1
  line L117 (348.943, -387.5294) -> (350.8824, -391.2955)
  line L118 (350.8824, -391.2955) -> (346.3405, -391.2955)
  line L119 (346.3405, -391.2955) -> (344.201, -387.3167)
  spline S77 degree 4 poles (344.201, -387.3167) (344.0179, -386.9651) (343.8381, -386.6724) (343.662, -386.4348) (343.4878, -386.3157) knots 0 0 0 0 0 1 1 1 1 1
  spline S78 degree 4 poles (343.4878, -386.3157) (343.4088, -386.2821) (343.2985, -386.2387) (343.1573, -386.1886) (342.9856, -386.1353) (342.8174, -386.0877) (342.6805, -386.054) (342.5746, -386.0307) (342.4993, -386.0154) knots 0 0 0 0 0 0.319421 0.445306 0.570084 0.693867 1 1 1 1 1
  line L120 (342.4993, -386.0154) -> (342.149, -386.0154)
  line L121 (342.149, -386.0154) -> (342.149, -391.2955)
  line L122 (342.149, -391.2955) -> (338.1076, -391.2955)
  line L123 (338.1076, -391.2955) -> (338.1076, -378.2955)
  line L124 (327.3348, -389.1435) -> (326.6966, -391.2955)
  line L125 (326.6966, -391.2955) -> (322.5927, -391.2955)
  line L126 (322.5927, -391.2955) -> (327.4849, -378.2955)
  line L127 (327.4849, -378.2955) -> (331.8766, -378.2955)
  line L128 (331.8766, -378.2955) -> (336.7563, -391.2955)
  line L129 (336.7563, -391.2955) -> (332.5523, -391.2955)
  line L130 (332.5523, -391.2955) -> (331.9016, -389.1435)
  line L131 (331.9016, -389.1435) -> (327.3348, -389.1435)
  spline S79 degree 4 poles (304.175, -378.2955) (304.7349, -378.3254) (305.4521, -378.4569) (306.2431, -378.7599) (307.004, -379.3637) (307.6019, -380.0322) (307.9098, -380.6334) (308.0389, -381.1529) (308.0662, -381.5361) knots 0 0 0 0 0 0.339175 0.465743 0.588018 0.70738 1 1 1 1 1
  spline S80 degree 4 poles (308.0662, -381.5361) (308.0662, -381.7157) (308.0501, -381.9603) (307.9997, -382.2627) (307.8909, -382.6122) (307.7527, -382.9444) (307.6022, -383.1988) (307.4632, -383.3854) (307.353, -383.513) knots 0 0 0 0 0 0.318242 0.442778 0.566311 0.689578 1 1 1 1 1
  spline S81 degree 4 poles (307.353, -383.513) (307.0925, -383.7887) (306.7639, -384.026) (306.377, -384.2252) (305.9392, -384.3889) knots 0 0 0 0 0 1 1 1 1 1
  spline S82 degree 4 poles (305.9392, -384.3889) (306.3709, -384.4933) (306.9124, -384.6821) (307.505, -385.0107) (308.0317, -385.5503) (308.432, -386.1596) (308.6145, -386.7363) (308.6689, -387.232) (308.6668, -387.6045) knots 0 0 0 0 0 0.33021 0.452879 0.572465 0.691726 1 1 1 1 1
  spline S83 degree 4 poles (308.6668, -387.6045) (308.6652, -387.9112) (308.6202, -388.3285) (308.4873, -388.836) (308.2026, -389.4094) (307.8488, -389.9416) (307.4905, -390.3039) (307.1656, -390.5463) (306.9151, -390.6949) knots 0 0 0 0 0 0.316233 0.441052 0.565287 0.689327 1 1 1 1 1
  spline S84 degree 4 poles (306.9151, -390.6949) (306.6369, -390.8493) (306.2765, -390.966) (305.8583, -391.0549) (305.3887, -391.1204) knots 0 0 0 0 0 1 1 1 1 1
  spline S85 degree 2 poles (305.3887, -391.1204) (304.1262, -391.4374) (303.5869, -391.2955) knots 0 0 0 1 1 1
  line L132 (303.5869, -391.2955) -> (296.6553, -391.2955)
  line L133 (296.6553, -391.2955) -> (296.6553, -378.2955)
  line L134 (296.6553, -378.2955) -> (304.175, -378.2955)
  line L135 (264.0864, -378.2955) -> (268.9912, -385.4899)
  line L136 (268.9912, -385.4899) -> (268.9912, -378.2955)
  line L137 (268.9912, -378.2955) -> (272.7823, -378.2955)
  line L138 (272.7823, -378.2955) -> (272.7823, -391.2955)
  line L139 (272.7823, -391.2955) -> (268.9912, -391.2955)
  line L140 (268.9912, -391.2955) -> (264.1115, -384.1386)
  line L141 (264.1115, -384.1386) -> (264.1115, -391.2955)
  line L142 (264.1115, -391.2955) -> (260.3328, -391.2955)
  line L143 (260.3328, -391.2955) -> (260.3328, -378.2955)
  line L144 (260.3328, -378.2955) -> (264.0864, -378.2955)
  line L145 (242.2529, -378.2955) -> (244.868, -382.6747)
  line L146 (244.868, -382.6747) -> (247.4955, -378.2955)
  line L147 (247.4955, -378.2955) -> (251.9373, -378.2955)
  line L148 (251.9373, -378.2955) -> (246.8824, -385.8528)
  line L149 (246.8824, -385.8528) -> (246.8824, -391.2955)
  line L150 (246.8824, -391.2955) -> (242.8535, -391.2955)
  line L151 (242.8535, -391.2955) -> (242.8535, -385.8528)
  line L152 (242.8535, -385.8528) -> (237.7862, -378.2955)
  line L153 (237.7862, -378.2955) -> (242.2529, -378.2955)
  line L154 (224.7987, -378.2955) -> (224.7987, -381.0857)
  line L155 (224.7987, -381.0857) -> (218.918, -381.0857)
  line L156 (218.918, -381.0857) -> (218.918, -383.3504)
  line L157 (218.918, -383.3504) -> (223.9353, -383.3504)
  line L158 (223.9353, -383.3504) -> (223.9353, -385.9779)
  line L159 (223.9353, -385.9779) -> (218.918, -385.9779)
  line L160 (218.918, -385.9779) -> (218.918, -391.2955)
  line L161 (218.918, -391.2955) -> (214.8766, -391.2955)
  line L162 (214.8766, -391.2955) -> (214.8766, -378.2955)
  line L163 (214.8766, -378.2955) -> (224.7987, -378.2955)
  line L164 (230.9921, -378.2955) -> (230.9921, -388.0924)
  line L165 (230.9921, -388.0924) -> (237.2606, -388.0924)
  line L166 (237.2606, -388.0924) -> (237.2606, -391.2955)
  line L167 (237.2606, -391.2955) -> (226.9758, -391.2955)
  line L168 (226.9758, -391.2955) -> (226.9758, -378.2955)
  line L169 (226.9758, -378.2955) -> (230.9921, -378.2955)
  line L170 (257.43, -378.2955) -> (257.43, -391.2955)
  line L171 (257.43, -391.2955) -> (253.4012, -391.2955)
  line L172 (253.4012, -391.2955) -> (253.4012, -378.2955)
  line L173 (253.4012, -378.2955) -> (257.43, -378.2955)
  line L174 (282.0037, -383.8884) -> (288.2096, -383.8884)
  line L175 (288.2096, -383.8884) -> (288.2096, -389.4187)
  spline S86 degree 4 poles (288.2096, -389.4187) (286.4831, -390.5901) (285.1655, -391.2179) (283.6983, -391.3753) (281.8035, -391.5207) knots 0 0 0 0 0 1 1 1 1 1
  spline S87 degree 4 poles (281.8035, -391.5207) (280.7742, -391.5173) (279.4339, -391.3822) (278.0216, -390.8912) (276.6819, -389.7883) (275.631, -388.4051) (275.1054, -386.9264) (274.964, -385.7344) (274.9594, -384.7893) knots 0 0 0 0 0 0.324047 0.444069 0.562844 0.683396 1 1 1 1 1
  spline S88 degree 4 poles (274.9594, -384.7893) (274.9592, -384.1263) (275.0384, -383.2389) (275.2879, -382.1877) (275.8341, -381.0385) (276.5093, -380.0325) (277.2352, -379.366) (277.8961, -378.9465) (278.4127, -378.6959) knots 0 0 0 0 0 0.325346 0.450118 0.572591 0.694038 1 1 1 1 1
  spline S89 degree 4 poles (278.4127, -378.6959) (279.1198, -378.3623) (279.9695, -378.1615) (280.9229, -378.0705) (281.9661, -378.0703) knots 0 0 0 0 0 1 1 1 1 1
  spline S90 degree 4 poles (281.9661, -378.0703) (282.8845, -378.0757) (284.1551, -378.1355) (285.1849, -378.3646) (286.2488, -378.9704) (287.0813, -379.691) (287.5901, -380.4782) (287.8769, -381.1887) (288.0345, -381.7488) knots 0 0 0 0 0 0.355058 0.475172 0.589089 0.703004 1 1 1 1 1
  line L176 (288.0345, -381.7488) -> (284.1557, -382.4495)
  spline S91 degree 4 poles (284.1557, -382.4495) (284.0824, -382.2284) (283.9474, -381.9438) (283.717, -381.6297) (283.3481, -381.3278) (282.9198, -381.0813) (282.5061, -380.9653) (282.1504, -380.9259) (281.8785, -380.923) knots 0 0 0 0 0 0.307304 0.427941 0.549228 0.673035 1 1 1 1 1
  spline S92 degree 4 poles (281.8785, -380.923) (281.491, -380.923) (280.9742, -381) (280.3887, -381.2467) (279.7908, -381.7886) (279.2779, -382.5184) (279.0584, -383.3685) (278.9881, -384.1305) (278.9883, -384.7517) knots 0 0 0 0 0 0.291146 0.405883 0.523583 0.647981 1 1 1 1 1
  spline S93 degree 4 poles (278.9883, -384.7517) (278.9869, -385.4039) (279.0583, -386.201) (279.273, -387.0776) (279.792, -387.8163) (280.4082, -388.3522) (281.0297, -388.5952) (281.583, -388.6679) (282.0037, -388.668) knots 0 0 0 0 0 0.352198 0.475101 0.591203 0.705096 1 1 1 1 1
  spline S94 degree 4 poles (282.0037, -388.668) (282.7126, -388.5709) (283.3158, -388.6011) (283.9561, -388.3869) (284.6938, -387.8047) knots 0 0 0 0 0 1 1 1 1 1
  line L177 (284.6938, -387.8047) -> (284.6938, -386.591)
  line L178 (284.6938, -386.591) -> (282.0037, -386.591)
  line L179 (282.0037, -386.591) -> (282.0037, -383.8884)
  line L180 (321.5417, -378.2955) -> (321.5417, -381.0732)
  line L181 (321.5417, -381.0732) -> (314.8102, -381.0732)
  line L182 (314.8102, -381.0732) -> (314.8102, -383.1377)
  line L183 (314.8102, -383.1377) -> (321.0537, -383.1377)
  line L184 (321.0537, -383.1377) -> (321.0537, -385.7902)
  line L185 (321.0537, -385.7902) -> (314.8102, -385.7902)
  line L186 (314.8102, -385.7902) -> (314.8102, -388.3552)
  line L187 (314.8102, -388.3552) -> (321.7419, -388.3552)
  line L188 (321.7419, -388.3552) -> (321.7419, -391.2955)
  line L189 (321.7419, -391.2955) -> (310.7813, -391.2955)
  line L190 (310.7813, -391.2955) -> (310.7813, -378.2955)
  line L191 (310.7813, -378.2955) -> (321.5417, -378.2955)
  line L192 (377.4204, -378.2955) -> (377.4204, -382.8499)
  line L193 (377.4204, -382.8499) -> (381.8121, -382.8499)
  line L194 (381.8121, -382.8499) -> (381.8121, -378.2955)
  line L195 (381.8121, -378.2955) -> (385.8535, -378.2955)
  line L196 (385.8535, -378.2955) -> (385.8535, -391.2955)
  line L197 (385.8535, -391.2955) -> (381.8121, -391.2955)
  line L198 (381.8121, -391.2955) -> (381.8121, -386.0405)
  line L199 (381.8121, -386.0405) -> (377.4204, -386.0405)
  line L200 (377.4204, -386.0405) -> (377.4204, -391.2955)
  line L201 (377.4204, -391.2955) -> (373.404, -391.2955)
  line L202 (373.404, -391.2955) -> (373.404, -378.2955)
  line L203 (373.404, -378.2955) -> (377.4204, -378.2955)
  line L204 (428.0941, -378.2955) -> (428.0941, -381.5111)
  line L205 (428.0941, -381.5111) -> (423.9902, -381.5111)
  line L206 (423.9902, -381.5111) -> (423.9902, -391.2955)
  line L207 (423.9902, -391.2955) -> (419.9738, -391.2955)
  line L208 (419.9738, -391.2955) -> (419.9738, -381.5111)
  line L209 (419.9738, -381.5111) -> (415.8699, -381.5111)
  line L210 (415.8699, -381.5111) -> (415.8699, -378.2955)
  line L211 (415.8699, -378.2955) -> (428.0941, -378.2955)
  line L212 (171.8364, -220.7379) -> (174.8364, -220.7379)
  line L213 (173.3364, -220.7379) -> (173.3364, -236.2379) construction
  circle A63 centre (173.3364, -220.7379) radius 1.5
  line L214 (177.3364, -220.7379) -> (177.3364, -234.2379)
  line L215 (175.3364, -236.2379) -> (171.3364, -236.2379)
  line L216 (169.3364, -234.2379) -> (169.3364, -220.7379)
  line L217 (173.3364, -217.3893) -> (176.2364, -219.0636)
  line L218 (176.2364, -219.0636) -> (176.2364, -222.4122)
  line L219 (176.2364, -222.4122) -> (173.3364, -224.0865)
  line L220 (173.3364, -224.0865) -> (170.4364, -222.4122)
  line L221 (170.4364, -222.4122) -> (170.4364, -219.0636)
  line L222 (170.4364, -219.0636) -> (173.3364, -217.3893)
  arc A64 (169.3364, -234.2379) -> (171.3364, -236.2379) centre (171.3364, -234.2379) ccw
  arc A65 (175.3364, -236.2379) -> (177.3364, -234.2379) centre (175.3364, -234.2379) ccw
  line L223 (171.8364, -227.7379) -> (174.8364, -227.7379)
  arc A66 (177.3364, -220.7379) -> (169.3364, -220.7379) centre (173.3364, -220.7379) ccw
  point P0 (0, 0)
  point P1 (218.1029, -306.1501)
  point P2 (217.7711, -306.0189)
  point P3 (217.438, -305.918)
  point P4 (217.1025, -305.8465)
  point P5 (216.1317, -305.8111)
  point P6 (220.4641, -309.7454)
  point P7 (220.3589, -309.0629)
  point P8 (220.1899, -308.4523)
  point P9 (219.961, -307.9077)
  point P10 (219.674, -307.4272)
  point P11 (219.3262, -307.0038)
  point P12 (218.9146, -306.6332)
  point P13 (221.8691, -304.7083)
  point P14 (222.4809, -305.2967)
  point P15 (223.0203, -305.9674)
  point P16 (223.4883, -306.7242)
  point P17 (223.863, -307.5474)
  point P18 (224.1368, -308.4504)
  point P19 (224.3064, -309.442)
  point P20 (220.6009, -317.1173)
  point P21 (220.0426, -317.3543)
  point P22 (219.456, -317.5399)
  point P23 (218.8392, -317.6742)
  point P24 (217.3279, -317.9034)
  point P25 (224.3057, -311.5794)
  point P26 (224.1289, -312.5529)
  point P27 (223.8391, -313.4597)
  point P28 (223.4349, -314.3113)
  point P29 (222.9364, -315.0982)
  point P30 (222.3869, -315.7748)
  point P31 (221.7863, -316.3492)
  point P32 (216.2639, -315.1052)
  point P33 (217.2603, -315.006)
  point P34 (217.6163, -314.9602)
  point P35 (217.9599, -314.8826)
  point P36 (218.2929, -314.7725)
  point P37 (219.038, -314.3186)
  point P38 (219.4058, -313.9592)
  point P39 (219.7231, -313.5468)
  point P40 (219.9911, -313.0769)
  point P41 (220.2062, -312.5477)
  point P42 (220.3657, -311.9482)
  point P43 (220.4657, -311.2705)
  point P44 (211.6384, -289.448)
  point P45 (211.8223, -289.5166)
  point P46 (211.9931, -289.5844)
  point P47 (212.1533, -289.6511)
  point P48 (212.3039, -289.7167)
  point P49 (212.4448, -289.7815)
  point P50 (212.5747, -289.846)
  point P51 (207.6179, -311.1953)
  point P52 (207.8112, -311.428)
  point P53 (207.9891, -311.6936)
  point P54 (208.1501, -311.9926)
  point P55 (208.2788, -312.3081)
  point P56 (208.3737, -312.6575)
  point P57 (208.4331, -313.0445)
  point P58 (208.0176, -307.0744)
  point P59 (207.8765, -307.6459)
  point P60 (207.6439, -308.1814)
  point P61 (207.3173, -308.6866)
  point P62 (206.9167, -309.1302)
  point P63 (206.4621, -309.4863)
  point P64 (205.9482, -309.7589)
  point P65 (206.8959, -303.8699)
  point P66 (207.2045, -304.1529)
  point P67 (207.4637, -304.4645)
  point P68 (207.6765, -304.8068)
  point P69 (207.8448, -305.1804)
  point P70 (207.9662, -305.5782)
  point P71 (208.0403, -306.0034)
  point P72 (205.9082, -310.2287)
  point P73 (206.4333, -310.4218)
  point P74 (206.6742, -310.5231)
  point P75 (206.9167, -310.6506)
  point P76 (207.1615, -310.8065)
  point P77 (204.2707, -306.864)
  point P78 (204.2301, -306.6678)
  point P79 (204.1659, -306.4987)
  point P80 (204.0783, -306.3519)
  point P81 (203.964, -306.2128)
  point P82 (203.8391, -306.0917)
  point P83 (203.7032, -305.9877)
  point P84 (203.3869, -305.8294)
  point P85 (203.2016, -305.7688)
  point P86 (202.9984, -305.7189)
  point P87 (202.7763, -305.6803)
  point P88 (202.2712, -305.6181)
  point P89 (203.8669, -302.7727)
  point P90 (204.9426, -302.9589)
  point P91 (205.8214, -303.2446)
  point P92 (201.343, -305.6269)
  point P93 (200.7841, -305.7185)
  point P94 (200.2001, -305.8682)
  point P95 (200.3105, -305.5758)
  point P96 (200.9732, -305.1178)
  point P97 (198.6349, -303.3503)
  point P98 (199.8644, -303.0256)
  point P99 (201.1826, -302.7926)
  point P100 (217.2894, -303.0746)
  point P101 (218.7692, -303.2383)
  point P102 (219.3919, -303.3879)
  point P103 (220.0002, -303.5965)
  point P104 (220.5961, -303.8658)
  point P105 (208.4269, -314.0291)
  point P106 (208.3471, -314.5509)
  point P107 (208.2169, -315.0416)
  point P108 (208.037, -315.504)
  point P109 (207.8102, -315.9336)
  point P110 (207.538, -316.3285)
  point P111 (207.2187, -316.6909)
  point P112 (206.0386, -289.8991)
  point P113 (206.196, -289.8709)
  point P114 (206.3528, -289.8271)
  point P115 (206.5085, -289.7683)
  point P116 (206.6634, -289.6947)
  point P117 (206.8184, -289.606)
  point P118 (206.9749, -289.5012)
  point P119 (207.716, -289.6221)
  point P120 (208.2579, -289.7859)
  point P121 (208.7773, -289.8807)
  point P122 (209.2865, -289.9118)
  point P123 (209.7957, -289.8807)
  point P124 (210.3151, -289.7859)
  point P125 (210.8571, -289.6221)
  point P126 (206.7023, -288.9995)
  point P127 (206.419, -289.1476)
  point P128 (206.165, -289.2242)
  point P129 (205.9237, -289.2508)
  point P130 (205.6808, -289.2317)
  point P131 (205.4217, -289.1579)
  point P132 (205.1305, -289.0065)
  point P133 (210.8913, -289.0415)
  point P134 (210.3208, -289.2354)
  point P135 (209.7945, -289.3434)
  point P136 (209.2887, -289.3781)
  point P137 (208.7827, -289.3434)
  point P138 (208.2555, -289.2354)
  point P139 (207.6837, -289.0414)
  point P140 (213.574, -288.7783)
  point P141 (213.4035, -288.7141)
  point P142 (213.2433, -288.6066)
  point P143 (213.0673, -288.4971)
  point P144 (212.8453, -288.4245)
  point P145 (212.5405, -288.4298)
  point P146 (212.1143, -288.5396)
  point P147 (441.0192, -389.2837)
  point P148 (441.3317, -389.1832)
  point P149 (441.6141, -389.0176)
  point P150 (441.8713, -388.782)
  point P151 (442.0864, -388.4822)
  point P152 (442.2498, -388.1029)
  point P153 (442.3561, -387.6285)
  point P154 (283.6156, -378.1425)
  point P155 (284.7701, -378.3317)
  point P156 (285.5686, -378.6146)
  point P157 (286.2413, -379.0048)
  point P158 (286.8189, -379.5036)
  point P159 (287.3105, -380.1197)
  point P160 (287.717, -380.8628)
  point P161 (284.0116, -382.1043)
  point P162 (283.8282, -381.8079)
  point P163 (283.6065, -381.5545)
  point P164 (283.3453, -381.3402)
  point P165 (283.0464, -381.1675)
  point P166 (282.7065, -381.0384)
  point P167 (282.3195, -380.9554)
  point P168 (286.4608, -390.4641)
  point P169 (285.0539, -391.0233)
  point P170 (283.6086, -391.3361)
  point P171 (282.6539, -388.5992)
  point P172 (283.2495, -388.5124)
  point P173 (283.8828, -388.3072)
  point P174 (275.0192, -383.7158)
  point P175 (275.1934, -382.7394)
  point P176 (275.4761, -381.8505)
  point P177 (275.8641, -381.041)
  point P178 (276.3496, -380.3221)
  point P179 (276.9317, -379.6948)
  point P180 (277.6164, -379.1534)
  point P181 (279.086, -378.4364)
  point P182 (279.8924, -378.2397)
  point P183 (280.8473, -378.1144)
  point P184 (281.2589, -380.9806)
  point P185 (280.7193, -381.1449)
  point P186 (280.2455, -381.4124)
  point P187 (279.8281, -381.7879)
  point P188 (279.4852, -382.2718)
  point P189 (279.2224, -382.9064)
  point P190 (279.0507, -383.7225)
  point P191 (279.0511, -385.8396)
  point P192 (279.2241, -386.6876)
  point P193 (279.4869, -387.3324)
  point P194 (279.8299, -387.8133)
  point P195 (280.2523, -388.1808)
  point P196 (280.7463, -388.4458)
  point P197 (281.3246, -388.6104)
  point P198 (280.1002, -391.3967)
  point P199 (278.7312, -391.0488)
  dimension "d0" = 3
  dimension "d1" = 7
  dimension "d3" = 5.8
  dimension "d4" = 2
extrude "Выдавливание1" add sketch "Эскиз1" along normal blind 4 contours L16 L17 L18 L19 L20 L21 L22 L23 L24 L25 L26 L223
extrude "Выдавливание2" add sketch "Эскиз1" against normal blind 4 contours L214 A65 L215 L20 L19 L18 L17 L16 L15 | L15 L223 L27 L216 A66 L214 | L16 L17 L18 L19 L20 L21 L22 L23 L24 L25 L26 L223 | L26 L25 L24 L23 L22 L215 A64 L216 L27 | L217 L218 L219 L220 L221 L222
extrude "Выдавливание3" cut sketch "Эскиз1" against normal blind 4 contours L217 L218 L219 L220 L221 L222
extrude "Выдавливание4" add sketch "Эскиз1" against normal blind 2 contours L217 L218 L219 L220 L221 L222
properties part number "крепеж  для бокса"
